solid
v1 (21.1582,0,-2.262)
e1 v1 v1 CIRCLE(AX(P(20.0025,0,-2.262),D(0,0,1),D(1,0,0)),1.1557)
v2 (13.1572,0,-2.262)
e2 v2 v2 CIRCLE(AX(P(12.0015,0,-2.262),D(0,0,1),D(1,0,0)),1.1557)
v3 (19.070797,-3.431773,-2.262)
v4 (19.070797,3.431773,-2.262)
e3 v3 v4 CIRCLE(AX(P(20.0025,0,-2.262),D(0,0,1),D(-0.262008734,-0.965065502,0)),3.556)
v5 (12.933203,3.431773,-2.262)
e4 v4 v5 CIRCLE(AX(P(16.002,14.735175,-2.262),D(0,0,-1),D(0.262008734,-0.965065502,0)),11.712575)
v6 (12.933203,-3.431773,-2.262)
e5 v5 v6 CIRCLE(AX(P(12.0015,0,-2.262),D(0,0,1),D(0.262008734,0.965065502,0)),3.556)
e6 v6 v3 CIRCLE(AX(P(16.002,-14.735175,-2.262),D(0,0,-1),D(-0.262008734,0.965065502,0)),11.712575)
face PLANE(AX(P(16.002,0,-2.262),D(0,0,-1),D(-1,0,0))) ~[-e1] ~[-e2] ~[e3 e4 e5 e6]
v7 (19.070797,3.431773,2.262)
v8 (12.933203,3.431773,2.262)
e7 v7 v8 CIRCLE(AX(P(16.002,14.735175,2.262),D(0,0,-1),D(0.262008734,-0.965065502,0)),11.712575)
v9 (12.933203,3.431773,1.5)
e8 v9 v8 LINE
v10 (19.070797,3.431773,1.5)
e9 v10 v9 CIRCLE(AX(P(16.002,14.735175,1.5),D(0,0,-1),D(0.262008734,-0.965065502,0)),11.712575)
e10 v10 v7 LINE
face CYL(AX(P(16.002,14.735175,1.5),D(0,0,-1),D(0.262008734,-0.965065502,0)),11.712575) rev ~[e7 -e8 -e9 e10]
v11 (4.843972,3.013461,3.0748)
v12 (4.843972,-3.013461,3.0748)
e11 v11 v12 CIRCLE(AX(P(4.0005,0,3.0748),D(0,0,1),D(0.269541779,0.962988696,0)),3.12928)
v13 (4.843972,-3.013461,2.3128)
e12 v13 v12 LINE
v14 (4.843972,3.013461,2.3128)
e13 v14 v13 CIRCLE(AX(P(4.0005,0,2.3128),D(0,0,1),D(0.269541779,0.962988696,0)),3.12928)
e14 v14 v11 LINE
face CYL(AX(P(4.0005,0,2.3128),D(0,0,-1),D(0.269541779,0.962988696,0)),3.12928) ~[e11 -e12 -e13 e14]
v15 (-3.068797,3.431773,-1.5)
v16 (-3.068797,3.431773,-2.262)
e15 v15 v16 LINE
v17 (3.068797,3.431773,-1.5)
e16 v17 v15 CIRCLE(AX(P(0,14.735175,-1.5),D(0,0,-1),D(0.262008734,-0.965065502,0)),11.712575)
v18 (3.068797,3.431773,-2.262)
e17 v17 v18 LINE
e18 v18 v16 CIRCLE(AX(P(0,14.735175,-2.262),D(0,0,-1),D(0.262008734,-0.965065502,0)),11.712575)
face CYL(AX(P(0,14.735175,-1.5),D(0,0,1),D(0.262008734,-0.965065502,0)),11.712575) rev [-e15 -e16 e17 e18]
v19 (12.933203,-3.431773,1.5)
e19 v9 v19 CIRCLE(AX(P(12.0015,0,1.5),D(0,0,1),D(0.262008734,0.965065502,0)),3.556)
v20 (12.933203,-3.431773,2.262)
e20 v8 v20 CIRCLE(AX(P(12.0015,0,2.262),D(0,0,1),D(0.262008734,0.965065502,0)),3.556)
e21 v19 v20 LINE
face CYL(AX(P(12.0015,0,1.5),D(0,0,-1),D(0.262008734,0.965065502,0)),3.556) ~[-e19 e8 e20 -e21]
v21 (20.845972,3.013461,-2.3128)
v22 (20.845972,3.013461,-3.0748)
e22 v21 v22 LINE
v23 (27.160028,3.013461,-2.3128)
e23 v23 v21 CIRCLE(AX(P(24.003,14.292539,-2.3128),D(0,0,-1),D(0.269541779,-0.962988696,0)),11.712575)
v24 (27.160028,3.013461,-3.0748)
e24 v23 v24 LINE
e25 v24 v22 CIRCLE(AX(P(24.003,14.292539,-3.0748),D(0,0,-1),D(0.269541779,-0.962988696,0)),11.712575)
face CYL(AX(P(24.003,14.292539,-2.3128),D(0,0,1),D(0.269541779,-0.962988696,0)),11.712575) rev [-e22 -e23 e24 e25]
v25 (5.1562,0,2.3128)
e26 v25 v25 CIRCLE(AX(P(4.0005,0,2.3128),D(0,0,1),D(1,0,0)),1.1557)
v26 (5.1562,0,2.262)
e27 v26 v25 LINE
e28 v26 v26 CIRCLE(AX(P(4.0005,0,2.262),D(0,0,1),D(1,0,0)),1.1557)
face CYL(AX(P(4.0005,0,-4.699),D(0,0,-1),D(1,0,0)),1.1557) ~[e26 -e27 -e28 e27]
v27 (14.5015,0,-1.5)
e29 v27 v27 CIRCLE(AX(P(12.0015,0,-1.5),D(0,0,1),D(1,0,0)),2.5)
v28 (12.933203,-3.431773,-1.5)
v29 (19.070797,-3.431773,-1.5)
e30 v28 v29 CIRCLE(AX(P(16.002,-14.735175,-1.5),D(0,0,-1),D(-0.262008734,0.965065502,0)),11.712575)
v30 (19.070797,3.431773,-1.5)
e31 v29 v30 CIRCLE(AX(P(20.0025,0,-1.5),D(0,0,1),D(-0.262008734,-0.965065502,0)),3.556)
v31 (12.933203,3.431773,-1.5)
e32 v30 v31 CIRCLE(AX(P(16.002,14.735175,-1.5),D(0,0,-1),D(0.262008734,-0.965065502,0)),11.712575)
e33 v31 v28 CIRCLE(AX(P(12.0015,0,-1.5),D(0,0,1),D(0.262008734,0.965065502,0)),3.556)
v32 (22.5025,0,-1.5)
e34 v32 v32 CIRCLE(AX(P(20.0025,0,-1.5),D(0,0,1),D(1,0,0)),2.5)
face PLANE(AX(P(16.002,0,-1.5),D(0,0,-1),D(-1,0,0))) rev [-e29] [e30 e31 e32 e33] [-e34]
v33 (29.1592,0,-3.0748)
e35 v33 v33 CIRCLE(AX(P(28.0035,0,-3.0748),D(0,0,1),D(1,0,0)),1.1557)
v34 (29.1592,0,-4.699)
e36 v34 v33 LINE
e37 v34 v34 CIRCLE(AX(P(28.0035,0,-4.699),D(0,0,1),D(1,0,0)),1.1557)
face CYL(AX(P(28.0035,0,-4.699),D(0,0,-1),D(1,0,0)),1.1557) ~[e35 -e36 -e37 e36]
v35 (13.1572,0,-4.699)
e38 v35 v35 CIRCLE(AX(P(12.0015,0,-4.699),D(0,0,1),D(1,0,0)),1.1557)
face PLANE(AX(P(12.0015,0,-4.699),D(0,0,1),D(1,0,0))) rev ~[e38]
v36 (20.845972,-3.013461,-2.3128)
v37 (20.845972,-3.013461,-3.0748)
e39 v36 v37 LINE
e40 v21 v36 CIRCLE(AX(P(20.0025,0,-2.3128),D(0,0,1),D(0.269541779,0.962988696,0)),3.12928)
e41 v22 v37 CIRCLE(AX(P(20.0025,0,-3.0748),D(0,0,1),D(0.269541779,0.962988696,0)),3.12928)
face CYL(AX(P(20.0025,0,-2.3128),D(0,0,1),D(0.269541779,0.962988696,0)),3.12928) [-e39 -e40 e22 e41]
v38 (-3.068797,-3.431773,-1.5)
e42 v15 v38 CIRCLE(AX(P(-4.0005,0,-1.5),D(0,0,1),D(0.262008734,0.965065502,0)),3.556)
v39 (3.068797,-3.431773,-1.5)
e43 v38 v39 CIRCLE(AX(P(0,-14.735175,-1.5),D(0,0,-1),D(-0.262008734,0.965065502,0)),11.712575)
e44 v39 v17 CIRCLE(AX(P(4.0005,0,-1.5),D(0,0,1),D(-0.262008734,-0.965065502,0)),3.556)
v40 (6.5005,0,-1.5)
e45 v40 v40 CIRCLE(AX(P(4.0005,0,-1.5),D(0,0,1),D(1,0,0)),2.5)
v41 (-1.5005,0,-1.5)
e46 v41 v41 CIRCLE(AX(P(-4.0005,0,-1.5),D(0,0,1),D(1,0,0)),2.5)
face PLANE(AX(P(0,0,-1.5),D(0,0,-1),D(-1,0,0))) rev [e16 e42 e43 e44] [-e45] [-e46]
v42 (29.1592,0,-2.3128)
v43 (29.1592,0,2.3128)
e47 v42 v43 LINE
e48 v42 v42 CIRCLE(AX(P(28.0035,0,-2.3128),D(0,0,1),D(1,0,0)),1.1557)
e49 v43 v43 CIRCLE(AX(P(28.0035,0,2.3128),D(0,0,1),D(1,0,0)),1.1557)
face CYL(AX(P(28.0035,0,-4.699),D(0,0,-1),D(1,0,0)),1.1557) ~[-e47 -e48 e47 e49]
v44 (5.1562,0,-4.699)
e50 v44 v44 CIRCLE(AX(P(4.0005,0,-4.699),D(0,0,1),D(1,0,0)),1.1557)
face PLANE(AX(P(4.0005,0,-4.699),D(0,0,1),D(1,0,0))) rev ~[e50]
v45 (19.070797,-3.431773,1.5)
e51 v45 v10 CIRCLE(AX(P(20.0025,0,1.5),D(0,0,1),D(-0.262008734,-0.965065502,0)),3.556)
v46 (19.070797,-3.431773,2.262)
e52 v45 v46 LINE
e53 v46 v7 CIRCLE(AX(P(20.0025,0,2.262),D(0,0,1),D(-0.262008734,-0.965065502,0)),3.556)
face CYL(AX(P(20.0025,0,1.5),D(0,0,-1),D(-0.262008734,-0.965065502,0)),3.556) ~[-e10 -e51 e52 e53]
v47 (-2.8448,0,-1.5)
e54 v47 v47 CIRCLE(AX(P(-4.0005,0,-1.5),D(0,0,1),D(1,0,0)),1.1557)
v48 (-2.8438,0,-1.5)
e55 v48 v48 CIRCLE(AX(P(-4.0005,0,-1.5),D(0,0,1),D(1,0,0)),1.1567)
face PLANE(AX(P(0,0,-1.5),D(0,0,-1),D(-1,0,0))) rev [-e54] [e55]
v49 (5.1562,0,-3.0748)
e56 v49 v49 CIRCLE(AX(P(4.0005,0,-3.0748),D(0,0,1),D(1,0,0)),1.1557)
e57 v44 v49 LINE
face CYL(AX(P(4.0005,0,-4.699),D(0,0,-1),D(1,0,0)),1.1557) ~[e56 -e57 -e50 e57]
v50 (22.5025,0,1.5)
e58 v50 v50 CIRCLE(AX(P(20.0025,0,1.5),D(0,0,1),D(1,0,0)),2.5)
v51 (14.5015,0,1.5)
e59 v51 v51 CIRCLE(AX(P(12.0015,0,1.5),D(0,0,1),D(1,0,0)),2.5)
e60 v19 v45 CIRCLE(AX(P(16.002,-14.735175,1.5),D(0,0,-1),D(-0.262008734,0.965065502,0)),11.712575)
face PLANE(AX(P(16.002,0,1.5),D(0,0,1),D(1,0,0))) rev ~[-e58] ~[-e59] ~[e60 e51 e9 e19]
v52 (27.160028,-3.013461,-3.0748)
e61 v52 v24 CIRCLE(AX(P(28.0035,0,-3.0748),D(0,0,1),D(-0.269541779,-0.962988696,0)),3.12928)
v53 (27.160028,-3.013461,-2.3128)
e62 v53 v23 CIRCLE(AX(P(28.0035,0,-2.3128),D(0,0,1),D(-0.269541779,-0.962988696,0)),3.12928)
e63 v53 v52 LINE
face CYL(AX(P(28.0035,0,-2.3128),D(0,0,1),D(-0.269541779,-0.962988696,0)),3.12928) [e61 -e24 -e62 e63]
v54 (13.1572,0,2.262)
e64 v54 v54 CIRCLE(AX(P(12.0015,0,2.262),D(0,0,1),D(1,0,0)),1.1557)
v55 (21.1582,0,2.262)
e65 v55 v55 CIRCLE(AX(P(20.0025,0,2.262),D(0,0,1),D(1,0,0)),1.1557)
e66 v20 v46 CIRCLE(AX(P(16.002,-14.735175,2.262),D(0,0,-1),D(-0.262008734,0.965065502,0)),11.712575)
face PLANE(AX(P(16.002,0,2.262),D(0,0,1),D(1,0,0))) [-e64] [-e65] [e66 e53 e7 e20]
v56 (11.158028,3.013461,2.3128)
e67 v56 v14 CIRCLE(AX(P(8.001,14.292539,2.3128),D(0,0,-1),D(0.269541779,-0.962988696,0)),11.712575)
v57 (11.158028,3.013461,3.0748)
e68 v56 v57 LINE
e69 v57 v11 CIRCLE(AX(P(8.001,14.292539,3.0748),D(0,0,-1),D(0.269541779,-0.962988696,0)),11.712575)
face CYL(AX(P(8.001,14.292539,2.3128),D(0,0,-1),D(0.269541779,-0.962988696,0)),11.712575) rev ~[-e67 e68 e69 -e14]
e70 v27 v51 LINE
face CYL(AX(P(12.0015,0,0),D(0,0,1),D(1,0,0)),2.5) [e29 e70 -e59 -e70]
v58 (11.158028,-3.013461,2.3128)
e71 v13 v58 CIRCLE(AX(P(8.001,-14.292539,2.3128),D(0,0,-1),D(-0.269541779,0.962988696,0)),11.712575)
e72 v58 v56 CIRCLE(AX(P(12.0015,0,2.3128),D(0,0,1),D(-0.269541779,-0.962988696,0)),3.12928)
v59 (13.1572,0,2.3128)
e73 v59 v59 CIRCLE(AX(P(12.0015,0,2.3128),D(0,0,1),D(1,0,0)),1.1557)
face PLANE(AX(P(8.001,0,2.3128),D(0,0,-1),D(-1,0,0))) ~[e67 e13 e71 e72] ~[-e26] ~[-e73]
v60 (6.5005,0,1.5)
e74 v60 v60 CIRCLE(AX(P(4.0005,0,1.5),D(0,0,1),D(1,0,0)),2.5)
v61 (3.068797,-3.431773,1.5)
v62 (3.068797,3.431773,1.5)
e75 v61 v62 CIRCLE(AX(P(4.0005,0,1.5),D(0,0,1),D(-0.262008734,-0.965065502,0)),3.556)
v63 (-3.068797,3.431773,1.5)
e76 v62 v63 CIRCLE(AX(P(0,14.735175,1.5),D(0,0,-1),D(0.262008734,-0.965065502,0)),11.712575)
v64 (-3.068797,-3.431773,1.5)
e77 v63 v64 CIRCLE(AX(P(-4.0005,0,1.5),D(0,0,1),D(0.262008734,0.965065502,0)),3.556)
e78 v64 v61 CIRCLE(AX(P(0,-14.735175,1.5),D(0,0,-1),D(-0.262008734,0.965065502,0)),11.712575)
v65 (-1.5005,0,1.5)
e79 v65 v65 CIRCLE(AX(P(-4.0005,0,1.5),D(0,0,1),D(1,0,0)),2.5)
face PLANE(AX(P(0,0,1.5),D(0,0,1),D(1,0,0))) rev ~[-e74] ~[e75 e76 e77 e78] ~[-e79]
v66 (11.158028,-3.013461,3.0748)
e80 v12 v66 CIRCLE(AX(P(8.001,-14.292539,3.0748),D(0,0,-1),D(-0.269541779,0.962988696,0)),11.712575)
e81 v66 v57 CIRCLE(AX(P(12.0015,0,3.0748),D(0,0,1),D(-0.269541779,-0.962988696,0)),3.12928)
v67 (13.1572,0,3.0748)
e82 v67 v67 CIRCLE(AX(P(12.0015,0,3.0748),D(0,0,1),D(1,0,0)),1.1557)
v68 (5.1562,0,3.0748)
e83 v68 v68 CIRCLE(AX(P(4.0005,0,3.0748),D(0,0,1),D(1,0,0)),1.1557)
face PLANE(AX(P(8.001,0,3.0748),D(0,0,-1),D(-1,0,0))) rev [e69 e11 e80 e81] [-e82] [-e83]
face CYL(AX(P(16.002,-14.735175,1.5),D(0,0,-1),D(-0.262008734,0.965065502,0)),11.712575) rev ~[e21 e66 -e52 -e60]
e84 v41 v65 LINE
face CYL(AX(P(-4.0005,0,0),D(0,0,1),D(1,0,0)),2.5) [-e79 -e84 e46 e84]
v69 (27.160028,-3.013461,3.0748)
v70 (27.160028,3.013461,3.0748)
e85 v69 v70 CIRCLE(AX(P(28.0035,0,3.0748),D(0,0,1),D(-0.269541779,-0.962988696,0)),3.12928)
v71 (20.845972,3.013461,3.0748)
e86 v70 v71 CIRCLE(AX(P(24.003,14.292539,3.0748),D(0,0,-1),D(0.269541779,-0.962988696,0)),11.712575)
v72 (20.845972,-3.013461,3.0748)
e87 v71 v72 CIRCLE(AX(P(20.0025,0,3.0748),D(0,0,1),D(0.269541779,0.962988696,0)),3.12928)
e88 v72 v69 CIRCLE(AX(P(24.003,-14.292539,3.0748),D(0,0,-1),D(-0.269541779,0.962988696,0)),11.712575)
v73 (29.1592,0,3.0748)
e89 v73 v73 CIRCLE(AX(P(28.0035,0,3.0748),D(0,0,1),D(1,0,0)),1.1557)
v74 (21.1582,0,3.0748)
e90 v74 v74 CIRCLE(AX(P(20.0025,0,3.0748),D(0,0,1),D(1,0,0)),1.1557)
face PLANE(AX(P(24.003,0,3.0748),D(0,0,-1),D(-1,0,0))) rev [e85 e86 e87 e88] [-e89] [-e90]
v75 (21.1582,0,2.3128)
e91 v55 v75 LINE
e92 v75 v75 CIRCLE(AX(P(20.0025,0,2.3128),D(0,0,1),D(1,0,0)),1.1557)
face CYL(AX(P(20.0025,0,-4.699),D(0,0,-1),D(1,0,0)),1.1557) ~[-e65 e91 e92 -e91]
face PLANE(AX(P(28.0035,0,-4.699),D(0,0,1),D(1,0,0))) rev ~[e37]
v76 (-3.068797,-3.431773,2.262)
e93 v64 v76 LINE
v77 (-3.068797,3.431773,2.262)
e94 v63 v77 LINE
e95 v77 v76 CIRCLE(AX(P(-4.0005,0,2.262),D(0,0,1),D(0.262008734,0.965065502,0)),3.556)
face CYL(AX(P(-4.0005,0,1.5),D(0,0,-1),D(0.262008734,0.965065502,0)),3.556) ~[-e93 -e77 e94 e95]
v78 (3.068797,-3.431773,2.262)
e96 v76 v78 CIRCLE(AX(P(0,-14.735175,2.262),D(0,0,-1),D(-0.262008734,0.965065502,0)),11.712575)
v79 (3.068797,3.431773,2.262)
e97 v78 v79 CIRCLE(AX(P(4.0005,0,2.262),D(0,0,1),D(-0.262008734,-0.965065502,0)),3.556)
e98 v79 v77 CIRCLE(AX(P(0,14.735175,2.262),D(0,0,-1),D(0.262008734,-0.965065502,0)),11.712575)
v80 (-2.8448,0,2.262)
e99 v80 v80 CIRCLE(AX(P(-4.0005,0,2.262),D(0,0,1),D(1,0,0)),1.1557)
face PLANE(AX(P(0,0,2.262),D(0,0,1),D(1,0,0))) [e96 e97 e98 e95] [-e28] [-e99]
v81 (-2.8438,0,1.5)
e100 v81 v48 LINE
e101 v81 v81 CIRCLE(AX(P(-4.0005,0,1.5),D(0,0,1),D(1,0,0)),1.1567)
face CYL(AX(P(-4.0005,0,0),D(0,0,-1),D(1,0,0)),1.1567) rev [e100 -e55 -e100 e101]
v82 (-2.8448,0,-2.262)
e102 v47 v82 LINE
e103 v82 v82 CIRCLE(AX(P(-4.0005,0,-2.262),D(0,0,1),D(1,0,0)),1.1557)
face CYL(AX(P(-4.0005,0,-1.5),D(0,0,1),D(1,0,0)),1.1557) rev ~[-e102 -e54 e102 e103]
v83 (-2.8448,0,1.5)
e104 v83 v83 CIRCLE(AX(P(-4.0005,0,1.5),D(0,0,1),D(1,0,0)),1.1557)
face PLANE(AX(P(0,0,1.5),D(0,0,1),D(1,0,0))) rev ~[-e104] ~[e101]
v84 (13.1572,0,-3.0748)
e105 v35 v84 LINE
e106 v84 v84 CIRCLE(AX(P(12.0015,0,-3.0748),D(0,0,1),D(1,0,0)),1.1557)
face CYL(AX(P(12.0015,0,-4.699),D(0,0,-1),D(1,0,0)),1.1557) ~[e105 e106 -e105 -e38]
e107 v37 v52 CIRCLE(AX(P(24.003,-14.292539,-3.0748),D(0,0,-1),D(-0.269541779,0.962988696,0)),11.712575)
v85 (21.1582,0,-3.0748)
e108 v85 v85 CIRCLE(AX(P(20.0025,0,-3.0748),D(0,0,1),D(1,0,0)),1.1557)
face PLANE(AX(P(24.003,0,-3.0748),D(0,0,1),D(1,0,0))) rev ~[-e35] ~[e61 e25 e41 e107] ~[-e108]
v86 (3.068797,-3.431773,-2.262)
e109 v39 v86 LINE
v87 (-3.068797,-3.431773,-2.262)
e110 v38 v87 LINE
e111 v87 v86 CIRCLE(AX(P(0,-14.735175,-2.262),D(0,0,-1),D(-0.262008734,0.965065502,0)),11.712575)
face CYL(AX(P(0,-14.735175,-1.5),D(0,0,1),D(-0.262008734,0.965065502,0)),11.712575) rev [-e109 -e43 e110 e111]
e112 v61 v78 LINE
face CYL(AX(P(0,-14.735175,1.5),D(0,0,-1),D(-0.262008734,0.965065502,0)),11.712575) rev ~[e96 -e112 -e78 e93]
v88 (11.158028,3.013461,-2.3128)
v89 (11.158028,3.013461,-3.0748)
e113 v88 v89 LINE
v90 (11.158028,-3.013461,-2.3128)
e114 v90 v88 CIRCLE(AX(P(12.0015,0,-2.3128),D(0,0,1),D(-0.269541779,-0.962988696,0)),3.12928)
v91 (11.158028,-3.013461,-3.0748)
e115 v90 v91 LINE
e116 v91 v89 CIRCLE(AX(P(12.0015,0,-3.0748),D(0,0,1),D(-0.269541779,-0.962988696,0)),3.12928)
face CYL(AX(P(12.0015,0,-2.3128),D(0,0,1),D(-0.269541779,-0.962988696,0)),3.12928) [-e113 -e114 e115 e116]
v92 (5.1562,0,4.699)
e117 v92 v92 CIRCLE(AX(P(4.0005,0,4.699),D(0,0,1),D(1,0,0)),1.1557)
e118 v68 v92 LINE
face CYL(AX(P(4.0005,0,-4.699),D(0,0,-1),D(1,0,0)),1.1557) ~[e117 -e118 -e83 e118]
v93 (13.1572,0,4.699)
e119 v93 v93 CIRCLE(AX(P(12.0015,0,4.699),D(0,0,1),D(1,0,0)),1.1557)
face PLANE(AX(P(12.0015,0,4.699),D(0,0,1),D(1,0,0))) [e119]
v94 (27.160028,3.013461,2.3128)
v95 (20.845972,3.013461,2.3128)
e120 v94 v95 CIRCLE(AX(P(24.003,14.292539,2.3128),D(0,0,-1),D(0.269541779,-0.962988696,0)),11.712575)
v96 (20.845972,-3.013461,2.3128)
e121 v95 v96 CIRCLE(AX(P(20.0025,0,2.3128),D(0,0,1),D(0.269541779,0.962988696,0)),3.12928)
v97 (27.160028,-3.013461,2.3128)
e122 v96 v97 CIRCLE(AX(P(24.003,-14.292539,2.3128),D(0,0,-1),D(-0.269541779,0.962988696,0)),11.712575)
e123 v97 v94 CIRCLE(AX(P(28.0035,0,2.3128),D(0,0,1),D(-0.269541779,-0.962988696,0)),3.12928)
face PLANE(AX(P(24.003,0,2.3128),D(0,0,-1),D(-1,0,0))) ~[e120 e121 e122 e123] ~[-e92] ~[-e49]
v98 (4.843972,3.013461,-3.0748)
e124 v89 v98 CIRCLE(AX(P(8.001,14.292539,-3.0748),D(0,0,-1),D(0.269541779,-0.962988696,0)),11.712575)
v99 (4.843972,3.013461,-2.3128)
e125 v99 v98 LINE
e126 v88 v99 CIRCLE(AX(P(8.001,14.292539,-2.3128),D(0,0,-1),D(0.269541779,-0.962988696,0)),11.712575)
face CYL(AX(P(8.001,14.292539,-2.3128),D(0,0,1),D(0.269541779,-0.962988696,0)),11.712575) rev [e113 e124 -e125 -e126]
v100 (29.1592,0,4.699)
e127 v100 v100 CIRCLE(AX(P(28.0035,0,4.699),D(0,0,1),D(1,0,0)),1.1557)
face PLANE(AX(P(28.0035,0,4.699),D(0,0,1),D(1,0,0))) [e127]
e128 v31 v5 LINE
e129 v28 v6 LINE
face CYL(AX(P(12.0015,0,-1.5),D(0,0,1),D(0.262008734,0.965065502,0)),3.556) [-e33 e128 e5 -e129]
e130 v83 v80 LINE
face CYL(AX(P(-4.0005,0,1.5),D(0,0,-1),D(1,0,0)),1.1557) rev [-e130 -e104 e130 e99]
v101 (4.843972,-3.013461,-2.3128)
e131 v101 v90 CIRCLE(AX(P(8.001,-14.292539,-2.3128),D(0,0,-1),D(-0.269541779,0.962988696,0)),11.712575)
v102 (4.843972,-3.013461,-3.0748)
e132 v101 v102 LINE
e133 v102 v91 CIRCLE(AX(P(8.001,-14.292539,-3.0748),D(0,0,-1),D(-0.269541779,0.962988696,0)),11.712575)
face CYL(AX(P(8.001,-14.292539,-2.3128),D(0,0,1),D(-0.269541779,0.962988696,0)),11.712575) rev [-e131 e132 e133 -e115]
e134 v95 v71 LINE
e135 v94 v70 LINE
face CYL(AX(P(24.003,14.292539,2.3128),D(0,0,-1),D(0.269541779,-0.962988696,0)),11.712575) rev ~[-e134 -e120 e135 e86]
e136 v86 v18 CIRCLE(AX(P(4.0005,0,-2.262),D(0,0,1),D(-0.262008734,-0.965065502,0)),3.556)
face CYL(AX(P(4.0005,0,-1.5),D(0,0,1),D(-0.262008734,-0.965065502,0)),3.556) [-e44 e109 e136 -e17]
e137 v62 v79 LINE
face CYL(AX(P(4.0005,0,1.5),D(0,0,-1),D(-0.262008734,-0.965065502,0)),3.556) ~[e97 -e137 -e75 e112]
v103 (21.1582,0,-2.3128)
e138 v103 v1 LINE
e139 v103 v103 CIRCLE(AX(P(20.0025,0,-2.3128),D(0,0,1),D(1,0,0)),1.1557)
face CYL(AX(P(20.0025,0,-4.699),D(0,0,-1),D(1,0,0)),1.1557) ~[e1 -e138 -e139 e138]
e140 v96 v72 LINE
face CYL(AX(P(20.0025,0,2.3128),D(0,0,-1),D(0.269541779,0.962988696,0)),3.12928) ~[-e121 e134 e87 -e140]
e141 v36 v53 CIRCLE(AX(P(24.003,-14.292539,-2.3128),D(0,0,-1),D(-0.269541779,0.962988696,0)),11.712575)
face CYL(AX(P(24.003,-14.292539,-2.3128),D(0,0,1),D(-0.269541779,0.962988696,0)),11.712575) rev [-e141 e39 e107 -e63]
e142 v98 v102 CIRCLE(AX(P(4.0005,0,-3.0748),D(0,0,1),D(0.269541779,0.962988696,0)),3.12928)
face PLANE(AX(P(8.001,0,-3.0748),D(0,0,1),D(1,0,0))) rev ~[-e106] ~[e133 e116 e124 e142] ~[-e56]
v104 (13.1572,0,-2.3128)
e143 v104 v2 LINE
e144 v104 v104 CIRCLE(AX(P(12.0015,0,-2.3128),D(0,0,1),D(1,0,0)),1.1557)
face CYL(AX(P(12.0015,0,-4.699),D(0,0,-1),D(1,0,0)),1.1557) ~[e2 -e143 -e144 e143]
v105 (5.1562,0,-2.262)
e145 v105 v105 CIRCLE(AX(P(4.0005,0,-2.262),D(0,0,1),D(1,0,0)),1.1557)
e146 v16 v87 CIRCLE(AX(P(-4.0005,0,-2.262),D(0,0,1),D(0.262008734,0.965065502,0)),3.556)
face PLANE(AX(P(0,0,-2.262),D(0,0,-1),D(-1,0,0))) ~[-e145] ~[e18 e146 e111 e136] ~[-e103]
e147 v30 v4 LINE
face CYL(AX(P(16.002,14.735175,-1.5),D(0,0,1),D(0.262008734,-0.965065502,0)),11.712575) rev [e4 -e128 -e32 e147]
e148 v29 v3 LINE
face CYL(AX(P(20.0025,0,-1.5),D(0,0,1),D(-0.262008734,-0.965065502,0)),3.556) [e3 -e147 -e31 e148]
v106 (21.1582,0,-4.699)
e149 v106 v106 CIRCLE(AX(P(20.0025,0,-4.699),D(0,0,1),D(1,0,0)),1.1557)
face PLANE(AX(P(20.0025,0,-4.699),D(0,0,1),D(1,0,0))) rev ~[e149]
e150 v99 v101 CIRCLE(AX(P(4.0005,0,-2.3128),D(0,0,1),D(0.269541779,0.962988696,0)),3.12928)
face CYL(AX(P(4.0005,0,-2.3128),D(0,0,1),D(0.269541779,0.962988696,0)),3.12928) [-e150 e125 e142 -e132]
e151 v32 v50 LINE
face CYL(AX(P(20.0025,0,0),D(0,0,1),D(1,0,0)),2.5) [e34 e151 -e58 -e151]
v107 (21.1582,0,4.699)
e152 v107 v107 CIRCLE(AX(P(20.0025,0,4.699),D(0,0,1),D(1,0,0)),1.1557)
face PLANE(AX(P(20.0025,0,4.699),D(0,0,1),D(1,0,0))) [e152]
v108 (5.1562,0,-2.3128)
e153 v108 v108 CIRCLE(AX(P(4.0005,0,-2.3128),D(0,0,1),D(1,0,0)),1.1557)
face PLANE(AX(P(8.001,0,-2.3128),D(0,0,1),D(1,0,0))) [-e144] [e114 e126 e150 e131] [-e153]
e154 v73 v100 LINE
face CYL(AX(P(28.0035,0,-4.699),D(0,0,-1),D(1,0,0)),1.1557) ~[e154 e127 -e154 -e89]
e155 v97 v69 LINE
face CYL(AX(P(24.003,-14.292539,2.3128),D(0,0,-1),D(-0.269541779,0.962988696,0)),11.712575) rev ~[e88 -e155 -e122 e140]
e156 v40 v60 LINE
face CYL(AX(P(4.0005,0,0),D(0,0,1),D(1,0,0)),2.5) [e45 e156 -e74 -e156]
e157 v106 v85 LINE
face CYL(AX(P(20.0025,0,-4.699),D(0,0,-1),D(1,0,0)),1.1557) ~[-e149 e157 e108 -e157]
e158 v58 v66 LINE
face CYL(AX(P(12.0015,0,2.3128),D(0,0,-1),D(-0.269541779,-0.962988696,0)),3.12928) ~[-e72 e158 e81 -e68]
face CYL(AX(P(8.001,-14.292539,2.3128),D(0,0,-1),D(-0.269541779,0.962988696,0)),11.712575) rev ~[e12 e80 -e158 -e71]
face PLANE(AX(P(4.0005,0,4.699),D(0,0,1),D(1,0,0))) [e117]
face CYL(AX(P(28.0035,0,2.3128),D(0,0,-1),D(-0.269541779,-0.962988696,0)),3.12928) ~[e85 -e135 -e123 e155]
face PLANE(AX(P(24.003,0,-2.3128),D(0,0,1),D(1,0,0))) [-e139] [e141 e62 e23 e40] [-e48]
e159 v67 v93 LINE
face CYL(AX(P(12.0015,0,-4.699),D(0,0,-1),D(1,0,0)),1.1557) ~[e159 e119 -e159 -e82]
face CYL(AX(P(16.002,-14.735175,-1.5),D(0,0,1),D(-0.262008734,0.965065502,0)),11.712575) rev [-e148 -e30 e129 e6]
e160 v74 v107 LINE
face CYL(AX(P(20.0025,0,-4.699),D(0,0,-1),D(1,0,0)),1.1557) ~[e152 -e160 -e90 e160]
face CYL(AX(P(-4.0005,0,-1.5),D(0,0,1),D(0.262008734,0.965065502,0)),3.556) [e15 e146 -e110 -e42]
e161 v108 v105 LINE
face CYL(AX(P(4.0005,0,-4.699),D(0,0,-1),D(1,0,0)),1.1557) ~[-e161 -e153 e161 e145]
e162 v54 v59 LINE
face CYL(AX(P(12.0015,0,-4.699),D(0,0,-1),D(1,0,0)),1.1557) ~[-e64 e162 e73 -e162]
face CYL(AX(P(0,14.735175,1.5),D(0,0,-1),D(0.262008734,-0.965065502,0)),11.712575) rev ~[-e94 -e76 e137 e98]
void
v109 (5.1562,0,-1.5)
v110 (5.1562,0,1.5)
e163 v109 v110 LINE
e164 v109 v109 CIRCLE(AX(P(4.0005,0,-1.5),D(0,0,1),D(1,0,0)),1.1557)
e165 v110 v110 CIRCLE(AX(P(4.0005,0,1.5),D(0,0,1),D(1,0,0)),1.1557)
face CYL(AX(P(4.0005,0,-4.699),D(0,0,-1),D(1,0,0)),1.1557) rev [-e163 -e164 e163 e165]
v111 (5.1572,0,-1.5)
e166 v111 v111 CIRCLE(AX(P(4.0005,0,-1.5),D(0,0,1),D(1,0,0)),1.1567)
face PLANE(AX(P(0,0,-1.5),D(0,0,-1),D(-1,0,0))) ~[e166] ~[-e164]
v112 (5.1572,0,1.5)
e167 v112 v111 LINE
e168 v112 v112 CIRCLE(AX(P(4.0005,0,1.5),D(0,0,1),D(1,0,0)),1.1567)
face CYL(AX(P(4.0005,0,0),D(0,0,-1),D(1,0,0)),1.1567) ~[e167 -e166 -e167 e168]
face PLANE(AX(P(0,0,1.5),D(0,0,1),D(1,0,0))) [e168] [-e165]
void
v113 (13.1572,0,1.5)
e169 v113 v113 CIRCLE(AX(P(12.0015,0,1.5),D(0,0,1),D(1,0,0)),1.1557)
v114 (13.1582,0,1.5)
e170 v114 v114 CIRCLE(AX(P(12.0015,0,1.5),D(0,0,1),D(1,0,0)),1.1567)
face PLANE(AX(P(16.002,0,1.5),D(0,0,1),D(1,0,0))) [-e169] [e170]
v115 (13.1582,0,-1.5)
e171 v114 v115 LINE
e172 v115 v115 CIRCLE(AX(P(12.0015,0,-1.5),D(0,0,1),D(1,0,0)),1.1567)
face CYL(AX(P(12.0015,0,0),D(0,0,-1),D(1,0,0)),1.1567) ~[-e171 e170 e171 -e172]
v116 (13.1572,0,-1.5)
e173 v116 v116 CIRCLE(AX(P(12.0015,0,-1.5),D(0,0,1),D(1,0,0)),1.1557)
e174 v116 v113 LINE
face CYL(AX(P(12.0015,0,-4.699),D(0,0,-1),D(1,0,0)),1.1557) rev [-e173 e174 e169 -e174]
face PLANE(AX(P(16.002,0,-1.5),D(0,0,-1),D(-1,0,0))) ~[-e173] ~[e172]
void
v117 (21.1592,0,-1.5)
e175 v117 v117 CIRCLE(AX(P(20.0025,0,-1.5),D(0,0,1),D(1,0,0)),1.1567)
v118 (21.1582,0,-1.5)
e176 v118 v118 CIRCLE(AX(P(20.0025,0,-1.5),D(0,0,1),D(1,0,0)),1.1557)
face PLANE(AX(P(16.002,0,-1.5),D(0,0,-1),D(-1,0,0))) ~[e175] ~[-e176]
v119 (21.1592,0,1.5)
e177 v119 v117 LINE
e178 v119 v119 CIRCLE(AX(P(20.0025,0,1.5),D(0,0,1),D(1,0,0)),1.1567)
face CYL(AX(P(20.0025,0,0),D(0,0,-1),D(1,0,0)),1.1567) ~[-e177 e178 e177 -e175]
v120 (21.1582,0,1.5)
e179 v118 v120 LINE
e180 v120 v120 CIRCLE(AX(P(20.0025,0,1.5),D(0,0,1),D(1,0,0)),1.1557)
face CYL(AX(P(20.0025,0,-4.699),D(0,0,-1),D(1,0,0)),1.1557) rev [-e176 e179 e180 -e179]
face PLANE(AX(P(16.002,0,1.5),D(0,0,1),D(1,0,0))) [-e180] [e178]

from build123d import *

# Parameters (mm, degrees)
SKETCH4_R                  = 2.5
SKETCH4_R_2                = 1.1567
BOSS_EXTRUDE1_DEPTH        = 1.5
BOSS_EXTRUDE1_2_DEPTH      = 1.5
SKETCH5_R                  = 1.1557
BOSS_EXTRUDE2_DEPTH        = 0.762
LPATTERN1_COUNT            = 2
LPATTERN1_PITCH            = 8.001
SKETCH7_R                  = 1.1557
BOSS_EXTRUDE3_DEPTH        = 0.762
BOSS_EXTRUDE4_DEPTH        = 4.699
BOSS_EXTRUDE4_DEPTH_BACK   = 4.699
SKETCH8_R                  = 1.1557
BOSS_EXTRUDE4_2_DEPTH      = 4.699
BOSS_EXTRUDE4_2_DEPTH_BACK = 4.699
LPATTERN2_COUNT            = 2
LPATTERN2_PITCH            = 16.002


with BuildPart() as part:
    # Sketch4 → Boss-Extrude1 (new, symmetric)
    with BuildSketch(Plane.XY):
        with Locations((-4.0005, 0)):
            Circle(SKETCH4_R)
        with Locations((-4.0005, 0)):
            Circle(SKETCH4_R_2, mode=Mode.SUBTRACT)
    extrude(amount=BOSS_EXTRUDE1_DEPTH, both=True)


with BuildPart() as body_2:
    # Sketch4 → Boss-Extrude1 2 (new, symmetric)
    with BuildSketch(Plane.XY):
        with Locations((4.0005, 0)):
            Circle(SKETCH4_R)
        with Locations((4.0005, 0)):
            Circle(SKETCH4_R_2, mode=Mode.SUBTRACT)
    extrude(amount=BOSS_EXTRUDE1_2_DEPTH, both=True)


with BuildPart() as body_3:
    # Sketch5 → Boss-Extrude2 (new body)
    with BuildSketch(Plane.XY.offset(1.5)):
        with BuildLine():
            ThreePointArc((-3.068796943, 3.431772926), (-7.5565, 0), (-3.068796943, -3.431772926))
            ThreePointArc((-3.068796943, -3.431772926), (0, -3.0226), (3.068796943, -3.431772926))
            ThreePointArc((3.068796943, -3.431772926), (7.5565, 0), (3.068796943, 3.431772926))
            ThreePointArc((3.068796943, 3.431772926), (0, 3.0226), (-3.068796943, 3.431772926))
        make_face()
        with Locations((-4.0005, 0)):
            Circle(SKETCH5_R, mode=Mode.SUBTRACT)
        with Locations((4.0005, 0)):
            Circle(SKETCH5_R, mode=Mode.SUBTRACT)
    extrude(amount=BOSS_EXTRUDE2_DEPTH)


with BuildPart() as lpattern1_1:
    # LPattern1: pattern copy
    add(body_2.part.moved(Location(Vector(1, 0, 0) * (1 * LPATTERN1_PITCH))))


with BuildPart() as body_5:
    # Sketch7 → Boss-Extrude3 (new body)
    with BuildSketch(Plane.XY.offset(-2.3128)):
        with BuildLine():
            ThreePointArc((4.843971698, 3.013461268), (0.87122, 0), (4.843971698, -3.013461268))
            ThreePointArc((4.843971698, -3.013461268), (8.001, -2.579963599), (11.158028302, -3.013461268))
            ThreePointArc((11.158028302, -3.013461268), (15.13078, 0), (11.158028302, 3.013461268))
            ThreePointArc((11.158028302, 3.013461268), (8.001, 2.579963599), (4.843971698, 3.013461268))
        make_face()
        with Locations((4.0005, 0)):
            Circle(SKETCH7_R, mode=Mode.SUBTRACT)
        with Locations((12.0015, 0)):
            Circle(SKETCH7_R, mode=Mode.SUBTRACT)
    extrude(amount=-BOSS_EXTRUDE3_DEPTH)


with BuildPart() as body_6:
    # Mirror1: mirrored copy
    add(body_3.part.mirror(Plane.XY))


with BuildPart() as body_7:
    # Mirror1 2: mirrored copy
    add(body_5.part.mirror(Plane.XY))


with BuildPart() as body_8:
    # Sketch8 → Boss-Extrude4 (new, two sides: drawn at the far end of the back side and taken through both)
    with BuildSketch(Plane.XY.offset(-BOSS_EXTRUDE4_DEPTH_BACK)):
        with Locations((4.0005, 0)):
            Circle(SKETCH8_R)
    extrude(amount=BOSS_EXTRUDE4_DEPTH + BOSS_EXTRUDE4_DEPTH_BACK)


with BuildPart() as body_9:
    # Sketch8 → Boss-Extrude4 2 (new, two sides: drawn at the far end of the back side and taken through both)
    with BuildSketch(Plane.XY.offset(-BOSS_EXTRUDE4_2_DEPTH_BACK)):
        with Locations((12.0015, 0)):
            Circle(SKETCH8_R)
    extrude(amount=BOSS_EXTRUDE4_2_DEPTH + BOSS_EXTRUDE4_2_DEPTH_BACK)


with BuildPart() as lpattern2_1:
    # LPattern2: pattern copy
    add(body_9.part.moved(Location(Vector(1, 0, 0) * (1 * LPATTERN2_PITCH))))


with BuildPart() as lpattern2_2:
    # LPattern2: pattern copy
    add(body_8.part.moved(Location(Vector(1, 0, 0) * (1 * LPATTERN2_PITCH))))


with BuildPart() as lpattern2_3:
    # LPattern2: pattern copy
    add(body_7.part.moved(Location(Vector(1, 0, 0) * (1 * LPATTERN2_PITCH))))


with BuildPart() as lpattern2_4:
    # LPattern2: pattern copy
    add(body_6.part.moved(Location(Vector(1, 0, 0) * (1 * LPATTERN2_PITCH))))


with BuildPart() as lpattern2_5:
    # LPattern2: pattern copy
    add(body_5.part.moved(Location(Vector(1, 0, 0) * (1 * LPATTERN2_PITCH))))


with BuildPart() as lpattern2_6:
    # LPattern2: pattern copy
    add(lpattern1_1.part.moved(Location(Vector(1, 0, 0) * (1 * LPATTERN2_PITCH))))


with BuildPart() as lpattern2_7:
    # LPattern2: pattern copy
    add(body_3.part.moved(Location(Vector(1, 0, 0) * (1 * LPATTERN2_PITCH))))


with BuildPart() as lpattern2_8:
    # LPattern2: pattern copy
    add(body_2.part.moved(Location(Vector(1, 0, 0) * (1 * LPATTERN2_PITCH))))


with BuildPart() as lpattern2_9:
    # LPattern2: pattern copy
    add(part.part.moved(Location(Vector(1, 0, 0) * (1 * LPATTERN2_PITCH))))


with BuildPart() as body_2_1:
    add(body_2.part)

    # Combine1: union body 3, LPattern1_1, body 5, body 6, body 7, body 8, body 9, LPattern2_1, LPattern2_2, LPattern2_3, LPattern2_4, LPattern2_5, LPattern2_7, LPattern2_8, LPattern2_9, part
    add(body_3.part)
    add(lpattern1_1.part)
    add(body_5.part)
    add(body_6.part)
    add(body_7.part)
    add(body_8.part)
    add(body_9.part)
    add(lpattern2_1.part)
    add(lpattern2_2.part)
    add(lpattern2_3.part)
    add(lpattern2_4.part)
    add(lpattern2_5.part)
    add(lpattern2_7.part)
    add(lpattern2_8.part)
    add(lpattern2_9.part)
    add(part.part)


solid = body_2_1.part
